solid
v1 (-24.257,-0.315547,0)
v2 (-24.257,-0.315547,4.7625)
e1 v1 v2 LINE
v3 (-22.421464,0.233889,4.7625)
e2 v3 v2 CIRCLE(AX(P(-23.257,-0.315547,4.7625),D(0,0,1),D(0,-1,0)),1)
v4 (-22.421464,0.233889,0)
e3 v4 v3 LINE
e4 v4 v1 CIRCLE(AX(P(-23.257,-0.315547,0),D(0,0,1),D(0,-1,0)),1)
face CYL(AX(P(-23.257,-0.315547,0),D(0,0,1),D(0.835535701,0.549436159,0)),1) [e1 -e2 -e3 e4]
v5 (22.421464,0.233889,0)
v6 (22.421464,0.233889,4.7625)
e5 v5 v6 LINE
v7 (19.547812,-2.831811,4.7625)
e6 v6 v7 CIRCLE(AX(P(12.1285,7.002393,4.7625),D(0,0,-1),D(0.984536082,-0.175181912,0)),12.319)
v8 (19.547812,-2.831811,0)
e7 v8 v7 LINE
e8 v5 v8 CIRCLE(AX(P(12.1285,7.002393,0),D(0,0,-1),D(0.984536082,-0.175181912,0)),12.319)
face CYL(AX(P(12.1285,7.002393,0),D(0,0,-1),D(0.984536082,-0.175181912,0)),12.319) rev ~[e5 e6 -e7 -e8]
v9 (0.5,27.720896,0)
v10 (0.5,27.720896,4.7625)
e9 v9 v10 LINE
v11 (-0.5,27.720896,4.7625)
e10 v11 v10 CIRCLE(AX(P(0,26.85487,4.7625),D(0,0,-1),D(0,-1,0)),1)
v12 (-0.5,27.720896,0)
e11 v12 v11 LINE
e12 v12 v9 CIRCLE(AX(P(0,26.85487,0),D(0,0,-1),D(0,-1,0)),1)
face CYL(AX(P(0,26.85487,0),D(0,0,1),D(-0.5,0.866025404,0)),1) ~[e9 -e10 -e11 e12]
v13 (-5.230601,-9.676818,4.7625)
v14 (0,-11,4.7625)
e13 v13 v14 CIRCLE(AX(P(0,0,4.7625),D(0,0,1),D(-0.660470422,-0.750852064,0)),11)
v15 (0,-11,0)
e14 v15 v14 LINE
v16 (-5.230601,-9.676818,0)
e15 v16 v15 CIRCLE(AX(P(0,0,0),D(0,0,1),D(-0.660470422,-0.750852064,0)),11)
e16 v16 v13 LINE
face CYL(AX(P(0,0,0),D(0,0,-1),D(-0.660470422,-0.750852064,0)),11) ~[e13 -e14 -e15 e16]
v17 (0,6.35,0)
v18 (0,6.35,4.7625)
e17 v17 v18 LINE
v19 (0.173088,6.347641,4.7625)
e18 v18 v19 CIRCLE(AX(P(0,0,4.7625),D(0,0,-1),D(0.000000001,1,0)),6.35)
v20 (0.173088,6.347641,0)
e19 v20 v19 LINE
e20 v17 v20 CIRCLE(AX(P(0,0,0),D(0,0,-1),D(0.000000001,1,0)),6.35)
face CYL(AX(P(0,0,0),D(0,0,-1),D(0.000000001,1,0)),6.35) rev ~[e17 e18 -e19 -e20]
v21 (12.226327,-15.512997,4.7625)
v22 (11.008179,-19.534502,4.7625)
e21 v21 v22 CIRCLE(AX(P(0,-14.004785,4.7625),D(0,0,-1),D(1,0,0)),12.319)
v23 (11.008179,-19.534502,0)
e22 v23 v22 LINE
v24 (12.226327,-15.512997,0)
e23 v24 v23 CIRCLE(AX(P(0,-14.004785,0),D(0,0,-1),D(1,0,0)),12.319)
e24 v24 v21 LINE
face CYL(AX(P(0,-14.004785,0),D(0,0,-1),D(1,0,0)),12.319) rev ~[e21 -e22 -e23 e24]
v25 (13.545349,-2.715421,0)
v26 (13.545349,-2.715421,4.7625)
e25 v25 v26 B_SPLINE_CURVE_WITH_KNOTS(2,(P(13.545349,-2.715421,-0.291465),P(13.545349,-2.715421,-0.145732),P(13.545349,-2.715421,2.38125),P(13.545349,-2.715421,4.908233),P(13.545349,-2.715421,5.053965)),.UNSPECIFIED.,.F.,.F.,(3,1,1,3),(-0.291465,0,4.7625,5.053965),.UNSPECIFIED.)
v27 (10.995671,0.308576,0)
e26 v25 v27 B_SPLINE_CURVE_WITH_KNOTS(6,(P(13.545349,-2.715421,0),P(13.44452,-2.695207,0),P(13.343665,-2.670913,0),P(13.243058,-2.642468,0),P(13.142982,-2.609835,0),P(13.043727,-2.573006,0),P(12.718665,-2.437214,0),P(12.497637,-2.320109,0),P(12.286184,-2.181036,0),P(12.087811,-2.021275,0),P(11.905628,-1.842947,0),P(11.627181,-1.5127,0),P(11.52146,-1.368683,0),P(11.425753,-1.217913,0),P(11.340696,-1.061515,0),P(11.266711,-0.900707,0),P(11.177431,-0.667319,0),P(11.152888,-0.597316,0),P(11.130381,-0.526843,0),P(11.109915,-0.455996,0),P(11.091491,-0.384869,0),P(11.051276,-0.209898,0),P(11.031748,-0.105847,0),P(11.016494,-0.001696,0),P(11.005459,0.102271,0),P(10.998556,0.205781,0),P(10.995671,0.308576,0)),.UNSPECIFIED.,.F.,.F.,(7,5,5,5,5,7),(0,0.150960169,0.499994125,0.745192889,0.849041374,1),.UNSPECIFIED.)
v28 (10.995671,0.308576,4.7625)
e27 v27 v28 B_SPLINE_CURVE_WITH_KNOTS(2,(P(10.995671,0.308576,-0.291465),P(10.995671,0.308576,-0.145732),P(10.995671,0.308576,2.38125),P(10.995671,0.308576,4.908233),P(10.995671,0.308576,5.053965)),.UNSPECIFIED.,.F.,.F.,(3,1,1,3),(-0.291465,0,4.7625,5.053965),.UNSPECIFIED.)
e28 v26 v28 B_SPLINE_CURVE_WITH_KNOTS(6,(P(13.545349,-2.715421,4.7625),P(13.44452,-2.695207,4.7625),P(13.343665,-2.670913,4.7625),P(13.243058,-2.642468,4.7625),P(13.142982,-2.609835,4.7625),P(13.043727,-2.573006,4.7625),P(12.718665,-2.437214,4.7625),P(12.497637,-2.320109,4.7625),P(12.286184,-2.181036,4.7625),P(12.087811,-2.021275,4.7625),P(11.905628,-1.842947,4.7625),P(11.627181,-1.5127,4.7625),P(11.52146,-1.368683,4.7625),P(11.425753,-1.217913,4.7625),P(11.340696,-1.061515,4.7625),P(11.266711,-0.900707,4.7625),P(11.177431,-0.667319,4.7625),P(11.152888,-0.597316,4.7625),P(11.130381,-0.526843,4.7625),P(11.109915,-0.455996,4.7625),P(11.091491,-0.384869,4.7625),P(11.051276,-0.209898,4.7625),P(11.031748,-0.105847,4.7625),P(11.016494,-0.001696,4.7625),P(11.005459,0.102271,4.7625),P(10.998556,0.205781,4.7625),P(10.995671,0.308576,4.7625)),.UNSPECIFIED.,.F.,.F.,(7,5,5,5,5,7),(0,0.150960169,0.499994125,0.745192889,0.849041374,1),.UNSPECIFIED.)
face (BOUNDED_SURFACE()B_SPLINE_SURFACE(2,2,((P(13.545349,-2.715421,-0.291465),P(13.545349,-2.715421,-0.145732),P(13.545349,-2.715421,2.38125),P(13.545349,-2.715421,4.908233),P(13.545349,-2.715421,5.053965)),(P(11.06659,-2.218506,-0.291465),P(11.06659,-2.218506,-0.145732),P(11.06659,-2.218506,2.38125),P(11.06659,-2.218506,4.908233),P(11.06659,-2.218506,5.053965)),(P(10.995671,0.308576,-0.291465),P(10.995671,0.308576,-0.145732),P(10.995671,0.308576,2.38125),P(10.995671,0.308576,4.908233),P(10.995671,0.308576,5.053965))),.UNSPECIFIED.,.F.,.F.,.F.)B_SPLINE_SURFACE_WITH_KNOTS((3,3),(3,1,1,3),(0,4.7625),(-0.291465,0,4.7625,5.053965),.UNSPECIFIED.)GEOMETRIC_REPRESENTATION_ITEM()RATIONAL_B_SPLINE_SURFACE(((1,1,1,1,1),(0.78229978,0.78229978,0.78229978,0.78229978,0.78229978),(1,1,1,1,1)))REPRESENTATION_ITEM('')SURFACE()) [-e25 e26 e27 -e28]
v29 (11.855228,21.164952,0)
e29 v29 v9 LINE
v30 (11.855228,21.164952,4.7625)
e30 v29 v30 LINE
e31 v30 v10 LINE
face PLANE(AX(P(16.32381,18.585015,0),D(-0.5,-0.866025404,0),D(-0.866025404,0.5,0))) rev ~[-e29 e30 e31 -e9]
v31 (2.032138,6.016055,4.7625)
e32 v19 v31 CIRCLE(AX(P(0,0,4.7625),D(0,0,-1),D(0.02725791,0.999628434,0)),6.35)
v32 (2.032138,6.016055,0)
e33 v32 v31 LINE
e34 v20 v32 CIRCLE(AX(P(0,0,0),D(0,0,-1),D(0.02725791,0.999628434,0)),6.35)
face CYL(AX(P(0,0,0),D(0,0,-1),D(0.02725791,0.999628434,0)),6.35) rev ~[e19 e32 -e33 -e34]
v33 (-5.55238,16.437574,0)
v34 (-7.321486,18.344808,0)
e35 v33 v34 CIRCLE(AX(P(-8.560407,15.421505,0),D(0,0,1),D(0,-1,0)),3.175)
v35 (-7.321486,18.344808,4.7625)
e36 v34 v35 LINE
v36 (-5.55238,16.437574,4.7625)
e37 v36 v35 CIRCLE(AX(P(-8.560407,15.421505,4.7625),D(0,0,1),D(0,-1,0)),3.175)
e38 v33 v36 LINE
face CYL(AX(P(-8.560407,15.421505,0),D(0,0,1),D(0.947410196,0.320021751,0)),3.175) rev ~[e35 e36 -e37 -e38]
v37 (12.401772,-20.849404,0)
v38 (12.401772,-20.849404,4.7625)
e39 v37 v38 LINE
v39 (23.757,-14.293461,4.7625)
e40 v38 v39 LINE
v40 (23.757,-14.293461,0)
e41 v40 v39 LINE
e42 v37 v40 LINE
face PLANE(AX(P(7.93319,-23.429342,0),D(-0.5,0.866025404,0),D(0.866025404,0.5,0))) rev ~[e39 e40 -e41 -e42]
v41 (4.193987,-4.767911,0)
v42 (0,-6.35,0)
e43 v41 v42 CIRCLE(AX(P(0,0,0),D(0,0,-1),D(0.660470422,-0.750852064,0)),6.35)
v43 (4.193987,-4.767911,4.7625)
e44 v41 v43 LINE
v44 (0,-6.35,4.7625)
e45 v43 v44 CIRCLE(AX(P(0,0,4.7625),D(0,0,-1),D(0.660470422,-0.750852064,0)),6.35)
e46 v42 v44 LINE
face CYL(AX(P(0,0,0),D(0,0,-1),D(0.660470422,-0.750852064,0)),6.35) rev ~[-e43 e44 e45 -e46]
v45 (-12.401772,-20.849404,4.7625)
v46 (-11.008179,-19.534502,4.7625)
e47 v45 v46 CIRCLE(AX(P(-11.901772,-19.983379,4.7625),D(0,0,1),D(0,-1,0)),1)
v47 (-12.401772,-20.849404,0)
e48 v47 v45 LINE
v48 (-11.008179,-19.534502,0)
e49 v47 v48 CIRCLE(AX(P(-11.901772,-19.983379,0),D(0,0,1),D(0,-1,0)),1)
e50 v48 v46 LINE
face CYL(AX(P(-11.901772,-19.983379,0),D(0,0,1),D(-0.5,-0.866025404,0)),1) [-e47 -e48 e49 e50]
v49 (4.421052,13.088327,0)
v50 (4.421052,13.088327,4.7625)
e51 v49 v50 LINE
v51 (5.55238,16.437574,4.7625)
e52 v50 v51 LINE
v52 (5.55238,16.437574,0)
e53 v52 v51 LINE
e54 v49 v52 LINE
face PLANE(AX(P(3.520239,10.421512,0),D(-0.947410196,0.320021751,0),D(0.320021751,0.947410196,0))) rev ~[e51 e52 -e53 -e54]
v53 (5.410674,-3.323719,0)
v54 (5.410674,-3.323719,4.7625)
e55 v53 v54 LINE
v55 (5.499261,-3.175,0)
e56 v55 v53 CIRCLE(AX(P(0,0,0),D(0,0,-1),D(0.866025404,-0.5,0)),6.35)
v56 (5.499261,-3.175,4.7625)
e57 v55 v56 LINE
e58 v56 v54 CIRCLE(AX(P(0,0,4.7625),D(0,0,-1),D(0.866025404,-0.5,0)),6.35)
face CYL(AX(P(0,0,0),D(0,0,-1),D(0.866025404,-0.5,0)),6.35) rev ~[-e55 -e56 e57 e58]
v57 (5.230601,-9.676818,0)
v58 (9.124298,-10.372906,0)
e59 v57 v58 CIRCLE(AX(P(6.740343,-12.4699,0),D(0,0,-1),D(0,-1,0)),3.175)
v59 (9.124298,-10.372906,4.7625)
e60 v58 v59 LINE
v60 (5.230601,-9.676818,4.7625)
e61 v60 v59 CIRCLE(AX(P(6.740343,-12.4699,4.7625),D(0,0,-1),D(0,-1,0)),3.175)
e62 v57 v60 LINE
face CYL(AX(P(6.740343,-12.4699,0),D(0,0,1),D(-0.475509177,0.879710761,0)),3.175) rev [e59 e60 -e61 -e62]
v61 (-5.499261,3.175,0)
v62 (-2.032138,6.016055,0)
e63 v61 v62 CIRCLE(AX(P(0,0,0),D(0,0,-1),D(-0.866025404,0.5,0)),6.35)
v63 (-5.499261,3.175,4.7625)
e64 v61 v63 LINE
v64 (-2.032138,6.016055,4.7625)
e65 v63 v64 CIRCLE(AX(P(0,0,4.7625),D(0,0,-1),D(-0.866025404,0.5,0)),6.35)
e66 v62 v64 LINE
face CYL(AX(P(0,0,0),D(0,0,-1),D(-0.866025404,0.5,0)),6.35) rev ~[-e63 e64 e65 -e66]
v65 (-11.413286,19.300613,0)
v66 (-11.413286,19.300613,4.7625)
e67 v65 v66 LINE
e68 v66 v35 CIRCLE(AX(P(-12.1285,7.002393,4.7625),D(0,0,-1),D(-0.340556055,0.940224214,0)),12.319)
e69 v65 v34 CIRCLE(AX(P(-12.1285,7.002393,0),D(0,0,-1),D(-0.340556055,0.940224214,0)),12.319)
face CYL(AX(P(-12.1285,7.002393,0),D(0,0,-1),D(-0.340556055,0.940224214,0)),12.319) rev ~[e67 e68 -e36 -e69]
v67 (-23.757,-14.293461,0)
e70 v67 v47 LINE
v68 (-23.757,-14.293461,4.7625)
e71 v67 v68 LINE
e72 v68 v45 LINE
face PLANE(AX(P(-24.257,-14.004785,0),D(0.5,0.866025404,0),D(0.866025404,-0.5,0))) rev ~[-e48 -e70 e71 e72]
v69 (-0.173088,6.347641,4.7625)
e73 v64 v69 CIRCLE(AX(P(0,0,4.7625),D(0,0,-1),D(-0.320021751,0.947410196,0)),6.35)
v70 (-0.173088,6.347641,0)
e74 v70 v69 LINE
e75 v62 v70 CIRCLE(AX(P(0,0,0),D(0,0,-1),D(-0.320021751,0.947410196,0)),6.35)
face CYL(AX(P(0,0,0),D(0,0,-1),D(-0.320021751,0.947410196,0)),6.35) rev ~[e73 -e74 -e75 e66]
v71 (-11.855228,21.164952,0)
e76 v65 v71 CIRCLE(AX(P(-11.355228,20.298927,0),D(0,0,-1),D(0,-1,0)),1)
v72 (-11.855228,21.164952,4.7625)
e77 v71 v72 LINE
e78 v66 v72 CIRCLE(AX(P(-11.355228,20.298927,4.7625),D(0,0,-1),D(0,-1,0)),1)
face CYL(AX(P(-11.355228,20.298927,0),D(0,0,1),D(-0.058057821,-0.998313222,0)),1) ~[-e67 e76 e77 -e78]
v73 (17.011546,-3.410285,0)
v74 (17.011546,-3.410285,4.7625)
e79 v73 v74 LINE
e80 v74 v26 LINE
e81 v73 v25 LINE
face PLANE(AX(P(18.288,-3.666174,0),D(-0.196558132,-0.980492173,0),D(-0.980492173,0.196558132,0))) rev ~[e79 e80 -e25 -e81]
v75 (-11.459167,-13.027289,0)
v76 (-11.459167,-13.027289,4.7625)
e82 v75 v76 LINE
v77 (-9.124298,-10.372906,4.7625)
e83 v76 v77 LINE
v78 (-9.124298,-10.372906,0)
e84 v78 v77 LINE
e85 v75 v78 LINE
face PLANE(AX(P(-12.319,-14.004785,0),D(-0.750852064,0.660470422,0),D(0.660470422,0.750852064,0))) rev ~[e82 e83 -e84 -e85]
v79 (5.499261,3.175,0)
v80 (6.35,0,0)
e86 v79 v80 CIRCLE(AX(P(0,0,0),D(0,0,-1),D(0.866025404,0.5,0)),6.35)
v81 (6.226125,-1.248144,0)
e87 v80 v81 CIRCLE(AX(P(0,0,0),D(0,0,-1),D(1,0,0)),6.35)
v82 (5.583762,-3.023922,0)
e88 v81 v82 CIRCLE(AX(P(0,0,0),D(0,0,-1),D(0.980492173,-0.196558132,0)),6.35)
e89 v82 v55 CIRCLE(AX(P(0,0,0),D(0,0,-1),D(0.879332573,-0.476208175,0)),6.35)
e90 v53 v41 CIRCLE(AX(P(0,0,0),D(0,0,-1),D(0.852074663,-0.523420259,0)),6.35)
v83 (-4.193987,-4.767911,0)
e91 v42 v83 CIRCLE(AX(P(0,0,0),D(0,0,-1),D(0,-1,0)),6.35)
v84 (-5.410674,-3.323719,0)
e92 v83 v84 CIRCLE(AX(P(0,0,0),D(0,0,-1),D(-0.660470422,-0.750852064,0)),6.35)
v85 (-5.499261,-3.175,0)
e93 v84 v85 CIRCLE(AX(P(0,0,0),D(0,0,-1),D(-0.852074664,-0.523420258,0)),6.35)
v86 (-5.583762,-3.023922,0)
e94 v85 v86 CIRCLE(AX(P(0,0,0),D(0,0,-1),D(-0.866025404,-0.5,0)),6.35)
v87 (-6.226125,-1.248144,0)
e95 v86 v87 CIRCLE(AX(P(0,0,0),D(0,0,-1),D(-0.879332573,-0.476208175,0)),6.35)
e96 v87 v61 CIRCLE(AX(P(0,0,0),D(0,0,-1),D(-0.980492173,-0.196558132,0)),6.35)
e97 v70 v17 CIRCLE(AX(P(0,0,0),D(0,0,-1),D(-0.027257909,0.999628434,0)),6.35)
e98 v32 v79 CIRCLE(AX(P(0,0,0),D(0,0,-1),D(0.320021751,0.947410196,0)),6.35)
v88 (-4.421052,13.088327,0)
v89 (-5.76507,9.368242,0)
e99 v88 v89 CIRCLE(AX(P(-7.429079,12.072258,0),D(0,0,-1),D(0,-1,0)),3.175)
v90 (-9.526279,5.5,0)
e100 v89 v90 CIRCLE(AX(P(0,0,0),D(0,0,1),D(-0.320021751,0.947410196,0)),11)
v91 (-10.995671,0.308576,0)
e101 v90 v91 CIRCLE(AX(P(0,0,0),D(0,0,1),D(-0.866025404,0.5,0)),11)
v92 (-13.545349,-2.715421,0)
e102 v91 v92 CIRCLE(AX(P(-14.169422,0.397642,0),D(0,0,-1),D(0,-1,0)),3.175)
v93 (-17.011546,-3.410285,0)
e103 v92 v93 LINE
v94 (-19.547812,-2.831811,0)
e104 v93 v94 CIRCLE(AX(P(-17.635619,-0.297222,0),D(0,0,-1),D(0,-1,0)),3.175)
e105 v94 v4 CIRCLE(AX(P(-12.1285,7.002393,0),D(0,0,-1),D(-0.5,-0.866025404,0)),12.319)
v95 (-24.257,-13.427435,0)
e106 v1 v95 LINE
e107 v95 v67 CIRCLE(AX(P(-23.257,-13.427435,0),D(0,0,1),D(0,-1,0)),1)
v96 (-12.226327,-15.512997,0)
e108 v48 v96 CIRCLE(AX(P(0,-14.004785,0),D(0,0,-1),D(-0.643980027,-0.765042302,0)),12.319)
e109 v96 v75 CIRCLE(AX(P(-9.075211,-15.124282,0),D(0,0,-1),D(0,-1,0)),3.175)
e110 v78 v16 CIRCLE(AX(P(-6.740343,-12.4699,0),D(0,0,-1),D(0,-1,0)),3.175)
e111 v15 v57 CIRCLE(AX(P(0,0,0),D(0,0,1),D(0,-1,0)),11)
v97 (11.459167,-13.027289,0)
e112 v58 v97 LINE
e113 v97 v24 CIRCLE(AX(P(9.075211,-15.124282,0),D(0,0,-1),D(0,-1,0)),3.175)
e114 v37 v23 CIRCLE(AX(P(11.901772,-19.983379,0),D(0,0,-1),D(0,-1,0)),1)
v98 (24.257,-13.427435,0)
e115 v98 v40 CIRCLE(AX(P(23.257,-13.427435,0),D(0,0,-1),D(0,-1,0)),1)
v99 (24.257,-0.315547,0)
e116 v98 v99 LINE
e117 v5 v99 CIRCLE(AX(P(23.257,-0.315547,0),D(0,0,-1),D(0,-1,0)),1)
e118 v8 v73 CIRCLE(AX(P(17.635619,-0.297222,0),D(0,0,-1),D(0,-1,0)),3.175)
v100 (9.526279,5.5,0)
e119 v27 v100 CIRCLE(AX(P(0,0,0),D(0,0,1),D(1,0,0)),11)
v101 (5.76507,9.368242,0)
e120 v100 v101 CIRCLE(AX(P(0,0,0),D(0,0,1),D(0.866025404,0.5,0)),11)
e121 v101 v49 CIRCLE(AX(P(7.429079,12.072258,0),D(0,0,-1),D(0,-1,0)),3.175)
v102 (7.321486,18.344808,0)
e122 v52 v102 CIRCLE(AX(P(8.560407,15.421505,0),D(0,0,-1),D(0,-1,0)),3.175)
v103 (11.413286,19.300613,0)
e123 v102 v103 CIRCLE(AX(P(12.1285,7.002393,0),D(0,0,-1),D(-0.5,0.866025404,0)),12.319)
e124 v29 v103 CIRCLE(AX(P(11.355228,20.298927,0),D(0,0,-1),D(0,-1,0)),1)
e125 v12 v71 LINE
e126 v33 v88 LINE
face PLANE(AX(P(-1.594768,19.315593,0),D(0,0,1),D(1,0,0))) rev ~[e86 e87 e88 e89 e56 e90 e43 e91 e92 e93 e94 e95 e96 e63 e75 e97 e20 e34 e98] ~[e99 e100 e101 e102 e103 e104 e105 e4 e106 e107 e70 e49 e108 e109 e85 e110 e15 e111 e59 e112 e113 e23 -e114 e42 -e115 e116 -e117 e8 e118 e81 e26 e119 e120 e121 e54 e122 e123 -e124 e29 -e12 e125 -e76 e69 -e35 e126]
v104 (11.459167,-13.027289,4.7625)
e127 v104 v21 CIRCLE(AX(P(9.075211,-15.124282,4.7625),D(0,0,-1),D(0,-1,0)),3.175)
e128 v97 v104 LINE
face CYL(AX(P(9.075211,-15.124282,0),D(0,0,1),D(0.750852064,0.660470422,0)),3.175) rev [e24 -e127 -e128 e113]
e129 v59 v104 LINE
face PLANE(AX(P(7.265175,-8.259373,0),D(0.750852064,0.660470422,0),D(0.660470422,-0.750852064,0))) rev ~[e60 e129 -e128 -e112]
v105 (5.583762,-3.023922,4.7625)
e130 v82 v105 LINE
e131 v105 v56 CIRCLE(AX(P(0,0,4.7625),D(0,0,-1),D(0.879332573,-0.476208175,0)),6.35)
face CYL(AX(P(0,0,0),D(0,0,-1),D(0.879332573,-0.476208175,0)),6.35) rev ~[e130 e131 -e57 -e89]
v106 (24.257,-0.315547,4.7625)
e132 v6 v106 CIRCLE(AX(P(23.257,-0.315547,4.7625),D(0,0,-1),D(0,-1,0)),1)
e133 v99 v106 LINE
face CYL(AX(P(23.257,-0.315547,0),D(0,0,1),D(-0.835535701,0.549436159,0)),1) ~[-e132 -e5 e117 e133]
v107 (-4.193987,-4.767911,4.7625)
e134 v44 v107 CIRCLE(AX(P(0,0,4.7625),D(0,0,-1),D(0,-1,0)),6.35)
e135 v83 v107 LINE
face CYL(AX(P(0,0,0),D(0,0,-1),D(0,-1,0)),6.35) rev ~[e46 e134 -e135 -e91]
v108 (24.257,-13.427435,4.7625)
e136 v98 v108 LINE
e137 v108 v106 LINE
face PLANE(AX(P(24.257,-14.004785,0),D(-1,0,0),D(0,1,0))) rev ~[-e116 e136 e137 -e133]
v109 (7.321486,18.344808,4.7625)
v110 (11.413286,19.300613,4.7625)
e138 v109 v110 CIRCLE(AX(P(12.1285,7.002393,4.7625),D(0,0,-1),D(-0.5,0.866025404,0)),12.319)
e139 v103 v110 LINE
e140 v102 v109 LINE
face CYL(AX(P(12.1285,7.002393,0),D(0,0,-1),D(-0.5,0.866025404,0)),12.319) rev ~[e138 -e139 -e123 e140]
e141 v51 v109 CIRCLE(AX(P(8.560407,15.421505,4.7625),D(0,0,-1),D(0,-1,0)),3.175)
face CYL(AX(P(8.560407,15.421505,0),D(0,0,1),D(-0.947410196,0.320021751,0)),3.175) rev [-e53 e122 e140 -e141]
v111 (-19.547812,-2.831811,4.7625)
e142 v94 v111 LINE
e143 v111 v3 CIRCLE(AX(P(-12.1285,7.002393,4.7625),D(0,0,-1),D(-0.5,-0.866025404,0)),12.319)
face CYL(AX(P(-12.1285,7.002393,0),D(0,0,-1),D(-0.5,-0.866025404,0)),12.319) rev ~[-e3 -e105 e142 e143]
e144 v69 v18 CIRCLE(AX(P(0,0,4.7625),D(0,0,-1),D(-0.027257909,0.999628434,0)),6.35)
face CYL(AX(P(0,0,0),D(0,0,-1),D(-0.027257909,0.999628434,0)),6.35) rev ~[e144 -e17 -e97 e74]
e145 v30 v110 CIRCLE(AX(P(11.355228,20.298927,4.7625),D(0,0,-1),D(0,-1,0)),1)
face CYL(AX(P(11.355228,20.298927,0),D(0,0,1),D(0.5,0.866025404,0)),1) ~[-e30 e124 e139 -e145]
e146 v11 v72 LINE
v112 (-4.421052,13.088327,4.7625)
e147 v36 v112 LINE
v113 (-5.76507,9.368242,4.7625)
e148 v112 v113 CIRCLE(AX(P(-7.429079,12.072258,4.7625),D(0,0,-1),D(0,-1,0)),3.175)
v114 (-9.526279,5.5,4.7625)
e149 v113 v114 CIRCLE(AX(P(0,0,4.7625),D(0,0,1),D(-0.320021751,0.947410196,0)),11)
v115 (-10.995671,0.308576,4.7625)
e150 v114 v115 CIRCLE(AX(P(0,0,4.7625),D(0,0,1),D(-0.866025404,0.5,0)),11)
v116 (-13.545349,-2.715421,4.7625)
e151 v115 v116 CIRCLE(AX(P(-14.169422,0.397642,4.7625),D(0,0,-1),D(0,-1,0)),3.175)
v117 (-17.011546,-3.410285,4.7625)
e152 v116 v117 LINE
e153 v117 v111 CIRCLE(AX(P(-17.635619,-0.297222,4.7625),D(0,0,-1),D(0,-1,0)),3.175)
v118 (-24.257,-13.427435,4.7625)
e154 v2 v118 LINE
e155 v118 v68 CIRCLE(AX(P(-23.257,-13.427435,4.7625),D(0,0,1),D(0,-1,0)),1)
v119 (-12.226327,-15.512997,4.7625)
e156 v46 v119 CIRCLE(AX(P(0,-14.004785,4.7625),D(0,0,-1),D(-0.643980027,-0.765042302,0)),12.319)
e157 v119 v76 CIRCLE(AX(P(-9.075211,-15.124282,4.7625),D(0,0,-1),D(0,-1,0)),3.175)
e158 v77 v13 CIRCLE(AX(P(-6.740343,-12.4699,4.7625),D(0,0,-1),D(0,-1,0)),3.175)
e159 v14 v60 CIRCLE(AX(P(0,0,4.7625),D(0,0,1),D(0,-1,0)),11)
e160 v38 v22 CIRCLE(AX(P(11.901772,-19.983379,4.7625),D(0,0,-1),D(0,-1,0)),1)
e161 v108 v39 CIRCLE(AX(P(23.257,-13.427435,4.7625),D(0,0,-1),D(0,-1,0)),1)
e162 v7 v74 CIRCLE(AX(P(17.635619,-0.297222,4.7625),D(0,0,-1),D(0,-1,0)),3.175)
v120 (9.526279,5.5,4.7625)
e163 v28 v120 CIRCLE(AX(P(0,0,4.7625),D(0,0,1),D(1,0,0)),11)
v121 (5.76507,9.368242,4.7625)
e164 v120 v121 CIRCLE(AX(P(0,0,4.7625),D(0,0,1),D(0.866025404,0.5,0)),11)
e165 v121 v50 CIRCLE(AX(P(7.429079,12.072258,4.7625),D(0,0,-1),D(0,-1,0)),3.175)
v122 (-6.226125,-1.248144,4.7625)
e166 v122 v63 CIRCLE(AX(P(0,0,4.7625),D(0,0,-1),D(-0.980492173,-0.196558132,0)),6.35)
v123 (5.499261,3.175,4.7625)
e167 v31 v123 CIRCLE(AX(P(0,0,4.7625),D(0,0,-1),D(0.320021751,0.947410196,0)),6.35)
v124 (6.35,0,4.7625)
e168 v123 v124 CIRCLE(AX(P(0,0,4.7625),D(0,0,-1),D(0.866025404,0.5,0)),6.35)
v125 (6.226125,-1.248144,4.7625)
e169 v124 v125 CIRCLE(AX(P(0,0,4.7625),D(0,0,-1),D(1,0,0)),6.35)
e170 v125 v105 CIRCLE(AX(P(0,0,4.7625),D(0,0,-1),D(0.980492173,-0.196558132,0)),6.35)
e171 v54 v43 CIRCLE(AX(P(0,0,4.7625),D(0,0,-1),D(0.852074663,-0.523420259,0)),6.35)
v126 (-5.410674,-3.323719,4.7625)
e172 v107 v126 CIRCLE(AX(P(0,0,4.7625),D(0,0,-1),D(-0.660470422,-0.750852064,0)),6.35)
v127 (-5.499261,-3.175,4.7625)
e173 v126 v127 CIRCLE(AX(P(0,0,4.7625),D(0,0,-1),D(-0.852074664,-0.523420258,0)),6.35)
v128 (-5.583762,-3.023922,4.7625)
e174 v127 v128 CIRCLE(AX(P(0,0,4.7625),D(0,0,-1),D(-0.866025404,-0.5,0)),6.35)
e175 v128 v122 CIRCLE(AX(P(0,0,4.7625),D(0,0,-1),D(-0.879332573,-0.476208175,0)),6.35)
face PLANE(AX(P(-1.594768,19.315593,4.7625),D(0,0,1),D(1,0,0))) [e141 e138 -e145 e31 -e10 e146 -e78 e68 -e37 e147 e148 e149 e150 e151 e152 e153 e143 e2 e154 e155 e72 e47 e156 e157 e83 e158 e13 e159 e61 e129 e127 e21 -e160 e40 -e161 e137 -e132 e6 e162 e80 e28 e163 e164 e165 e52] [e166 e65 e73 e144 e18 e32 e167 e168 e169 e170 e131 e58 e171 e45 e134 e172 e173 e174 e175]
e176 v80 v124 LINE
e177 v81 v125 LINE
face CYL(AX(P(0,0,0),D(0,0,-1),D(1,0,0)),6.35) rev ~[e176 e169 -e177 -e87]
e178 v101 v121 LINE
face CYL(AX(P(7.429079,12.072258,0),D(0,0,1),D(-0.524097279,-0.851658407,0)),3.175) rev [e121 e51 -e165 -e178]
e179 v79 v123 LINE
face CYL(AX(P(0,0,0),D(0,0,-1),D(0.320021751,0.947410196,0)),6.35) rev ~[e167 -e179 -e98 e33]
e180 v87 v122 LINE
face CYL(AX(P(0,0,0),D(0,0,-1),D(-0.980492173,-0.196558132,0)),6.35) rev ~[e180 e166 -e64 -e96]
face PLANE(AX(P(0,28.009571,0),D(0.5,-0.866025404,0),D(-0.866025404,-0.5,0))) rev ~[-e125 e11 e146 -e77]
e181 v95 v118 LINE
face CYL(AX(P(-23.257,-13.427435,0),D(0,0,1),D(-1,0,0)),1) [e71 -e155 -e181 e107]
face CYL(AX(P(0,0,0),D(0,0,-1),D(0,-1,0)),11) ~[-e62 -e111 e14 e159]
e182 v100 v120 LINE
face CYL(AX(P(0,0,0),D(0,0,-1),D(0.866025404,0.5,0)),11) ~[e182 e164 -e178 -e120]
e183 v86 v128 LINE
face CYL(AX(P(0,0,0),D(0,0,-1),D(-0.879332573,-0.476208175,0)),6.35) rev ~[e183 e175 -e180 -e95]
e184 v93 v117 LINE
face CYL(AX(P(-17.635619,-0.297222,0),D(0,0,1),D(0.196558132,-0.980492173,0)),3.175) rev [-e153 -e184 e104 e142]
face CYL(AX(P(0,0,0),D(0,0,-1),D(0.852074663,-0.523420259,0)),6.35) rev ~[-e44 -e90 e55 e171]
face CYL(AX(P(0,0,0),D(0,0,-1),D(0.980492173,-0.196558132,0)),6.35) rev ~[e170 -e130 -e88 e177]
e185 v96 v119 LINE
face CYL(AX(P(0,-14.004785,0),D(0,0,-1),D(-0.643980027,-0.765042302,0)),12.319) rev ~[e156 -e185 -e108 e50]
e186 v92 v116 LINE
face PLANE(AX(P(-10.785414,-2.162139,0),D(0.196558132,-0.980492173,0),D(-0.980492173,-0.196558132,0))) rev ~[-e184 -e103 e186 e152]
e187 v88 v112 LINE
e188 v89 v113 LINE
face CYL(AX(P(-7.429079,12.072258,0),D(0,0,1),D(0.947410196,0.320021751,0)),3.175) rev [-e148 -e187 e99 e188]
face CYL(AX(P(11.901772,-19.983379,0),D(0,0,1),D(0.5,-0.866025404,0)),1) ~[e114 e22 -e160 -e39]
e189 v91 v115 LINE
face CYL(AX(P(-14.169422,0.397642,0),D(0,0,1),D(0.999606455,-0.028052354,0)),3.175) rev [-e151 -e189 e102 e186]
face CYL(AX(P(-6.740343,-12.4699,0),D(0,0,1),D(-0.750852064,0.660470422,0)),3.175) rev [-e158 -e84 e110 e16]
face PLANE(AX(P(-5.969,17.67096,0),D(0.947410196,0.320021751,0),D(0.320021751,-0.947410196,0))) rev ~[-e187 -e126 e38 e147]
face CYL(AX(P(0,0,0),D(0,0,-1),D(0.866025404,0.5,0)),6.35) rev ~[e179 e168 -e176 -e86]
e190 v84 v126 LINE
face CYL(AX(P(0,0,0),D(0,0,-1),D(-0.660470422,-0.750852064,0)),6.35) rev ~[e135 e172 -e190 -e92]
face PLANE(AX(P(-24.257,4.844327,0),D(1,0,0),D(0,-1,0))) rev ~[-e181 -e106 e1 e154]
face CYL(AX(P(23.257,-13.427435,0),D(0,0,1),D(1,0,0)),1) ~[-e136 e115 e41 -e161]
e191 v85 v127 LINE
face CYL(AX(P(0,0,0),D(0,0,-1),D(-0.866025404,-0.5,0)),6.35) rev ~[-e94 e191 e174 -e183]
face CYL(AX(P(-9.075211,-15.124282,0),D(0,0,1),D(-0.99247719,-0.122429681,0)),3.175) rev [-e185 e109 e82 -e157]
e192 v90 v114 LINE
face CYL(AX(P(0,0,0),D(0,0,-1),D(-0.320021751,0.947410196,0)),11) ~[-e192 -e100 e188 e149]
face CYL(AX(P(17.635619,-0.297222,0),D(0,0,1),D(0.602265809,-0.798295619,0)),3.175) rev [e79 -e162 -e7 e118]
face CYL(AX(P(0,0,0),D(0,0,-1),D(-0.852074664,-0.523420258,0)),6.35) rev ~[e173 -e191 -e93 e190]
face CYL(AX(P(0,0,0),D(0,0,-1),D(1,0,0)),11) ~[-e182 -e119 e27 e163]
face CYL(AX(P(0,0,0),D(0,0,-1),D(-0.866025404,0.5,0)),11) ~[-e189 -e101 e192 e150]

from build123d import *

# Parameters (mm, degrees)
F1_DEPTH = 4.7625
F2_R     = 3.175
F3_R     = 1


with BuildPart() as f1:
    # F0 (on Top) → F1 (new body)
    with BuildSketch(Plane.XY):
        with BuildLine():
            ThreePointArc((-0.4726846942, 10.989839361), (-0.236396943, 10.9974595469), (0, 11))
            Line((0, 11), (0, 28.0095709595))
            Line((0, 28.0095709595), (-5.969, 17.6709596891))
            ThreePointArc((-5.969, 17.6709596891), (-2.6150512525, 14.8287618807), (-0.4726846942, 10.989839361))
        make_face()
        with BuildLine():
            ThreePointArc((0, 11), (0.236396943, 10.9974595469), (0.4726846942, 10.989839361))
            ThreePointArc((0.4726846942, 10.989839361), (2.6150512525, 14.8287618807), (5.969, 17.6709596891))
            Line((5.969, 17.6709596891), (0, 28.0095709595))
            Line((0, 28.0095709595), (0, 11))
        make_face()
        with BuildLine():
            Line((-18.288, -3.6661742094), (-24.257, -14.0047854797))
            Line((-24.257, -14.0047854797), (-9.5262794416, -5.5))
            ThreePointArc((-9.5262794416, -5.5), (-9.6422778162, -5.2940040154), (-9.7538224172, -5.0855627274))
            ThreePointArc((-9.7538224172, -5.0855627274), (-14.1496101216, -5.1496801235), (-18.288, -3.6661742094))
        make_face()
        with BuildLine():
            Line((-9.5262794416, -5.5), (-24.257, -14.0047854797))
            Line((-24.257, -14.0047854797), (-12.319, -14.0047854797))
            ThreePointArc((-12.319, -14.0047854797), (-11.5345588691, -9.6790817572), (-9.281137723, -5.9042766336))
            ThreePointArc((-9.281137723, -5.9042766336), (-9.4058808732, -5.7034555315), (-9.5262794416, -5.5))
        make_face()
        with BuildLine():
            Line((24.257, -14.0047854797), (9.5262794416, -5.5))
            ThreePointArc((9.5262794416, -5.5), (9.4058808732, -5.7034555315), (9.281137723, -5.9042766336))
            ThreePointArc((9.281137723, -5.9042766336), (11.5345588691, -9.6790817572), (12.319, -14.0047854797))
            Line((12.319, -14.0047854797), (24.257, -14.0047854797))
        make_face()
        with BuildLine():
            ThreePointArc((18.288, -3.6661742094), (14.1496101216, -5.1496801235), (9.7538224172, -5.0855627274))
            ThreePointArc((9.7538224172, -5.0855627274), (9.6422778162, -5.2940040154), (9.5262794416, -5.5))
            Line((9.5262794416, -5.5), (24.257, -14.0047854797))
            Line((24.257, -14.0047854797), (18.288, -3.6661742094))
        make_face()
        with BuildLine():
            ThreePointArc((-6.2261252968, -1.2481441375), (-6.2659575333, 1.0296971356), (-5.499261314, 3.175))
            Line((-5.499261314, 3.175), (-9.5262794416, 5.5))
            ThreePointArc((-9.5262794416, 5.5), (-10.8544146246, 1.7837273215), (-10.7854139, -2.1621394509))
            Line((-10.7854139, -2.1621394509), (-6.2261252968, -1.2481441375))
        make_face()
        with BuildLine():
            ThreePointArc((-2.0321381177, 6.016054743), (-1.115007867, 6.2513404528), (-0.1730877259, 6.3476405569))
            ThreePointArc((-0.1730877259, 6.3476405569), (-0.1672424774, 7.7590154524), (0, 9.1604587143))
            ThreePointArc((0, 9.1604587143), (-0.2012173242, 10.0842248201), (-0.4726846942, 10.989839361))
            ThreePointArc((-0.4726846942, 10.989839361), (-2.0165835906, 10.8135743685), (-3.520239259, 10.4215121532))
            Line((-3.520239259, 10.4215121532), (-2.0321381177, 6.016054743))
        make_face()
        with BuildLine():
            ThreePointArc((0.1730877259, 6.3476405569), (1.115007867, 6.2513404528), (2.0321381177, 6.016054743))
            Line((2.0321381177, 6.016054743), (3.520239259, 10.4215121532))
            ThreePointArc((3.520239259, 10.4215121532), (2.0165835906, 10.8135743685), (0.4726846942, 10.989839361))
            ThreePointArc((0.4726846942, 10.989839361), (0.2012173242, 10.0842248201), (0, 9.1604587143))
            ThreePointArc((0, 9.1604587143), (0.1427825837, 8.0856215938), (0.1905, 7.0023927399))
            ThreePointArc((0.1905, 7.0023927399), (0.1861461621, 6.6749009047), (0.1730877259, 6.3476405569))
        make_face()
        with BuildLine():
            ThreePointArc((5.499261314, 3.175), (6.1336289969, 1.6435009364), (6.35, 0))
            ThreePointArc((6.35, 0), (6.3189554372, -0.6271380889), (6.2261252968, -1.2481441375))
            Line((6.2261252968, -1.2481441375), (10.7854139, -2.1621394509))
            ThreePointArc((10.7854139, -2.1621394509), (10.9462220172, -1.0863809414), (11, 0))
            ThreePointArc((11, 0), (10.6251840892, 2.8470094961), (9.5262794416, 5.5))
            Line((9.5262794416, 5.5), (5.499261314, 3.175))
        make_face()
        with BuildLine():
            ThreePointArc((4.1939871791, -4.7679106054), (2.241234889, -5.9413269707), (0, -6.35))
            Line((0, -6.35), (0, -11))
            ThreePointArc((0, -11), (3.8824541385, -10.2920624689), (7.265174641, -8.2593727023))
            Line((7.265174641, -8.2593727023), (4.1939871791, -4.7679106054))
        make_face()
        with BuildLine():
            ThreePointArc((-4.1939871791, -4.7679106054), (-4.8563157063, -4.0912953646), (-5.4106741134, -3.3237186462))
            ThreePointArc((-5.4106741134, -3.3237186462), (-6.6358832514, -4.0243439602), (-7.9331899569, -4.5802293571))
            ThreePointArc((-7.9331899569, -4.5802293571), (-8.6325862096, -5.2163717244), (-9.281137723, -5.9042766336))
            ThreePointArc((-9.281137723, -5.9042766336), (-8.3565383135, -7.1531998025), (-7.265174641, -8.2593727023))
            Line((-7.265174641, -8.2593727023), (-4.1939871791, -4.7679106054))
        make_face()
        with BuildLine():
            Line((-9.5262794416, -5.5), (-7.9331899569, -4.5802293571))
            ThreePointArc((-7.9331899569, -4.5802293571), (-8.8338035337, -4.8678530956), (-9.7538224172, -5.0855627274))
            ThreePointArc((-9.7538224172, -5.0855627274), (-9.6422778162, -5.2940040154), (-9.5262794416, -5.5))
        make_face()
        with BuildLine():
            ThreePointArc((-9.281137723, -5.9042766336), (-8.6325862096, -5.2163717244), (-7.9331899569, -4.5802293571))
            Line((-7.9331899569, -4.5802293571), (-9.5262794416, -5.5))
            ThreePointArc((-9.5262794416, -5.5), (-9.4058808732, -5.7034555315), (-9.281137723, -5.9042766336))
        make_face()
        with BuildLine():
            Line((-7.9331899569, -4.5802293571), (-5.499261314, -3.175))
            ThreePointArc((-5.499261314, -3.175), (-5.5420264075, -3.0997489089), (-5.5837618393, -3.0239219107))
            ThreePointArc((-5.5837618393, -3.0239219107), (-6.8031257288, -3.7346714922), (-7.9331899569, -4.5802293571))
        make_face()
        with BuildLine():
            ThreePointArc((-5.4106741134, -3.3237186462), (-5.4554745042, -3.2496612029), (-5.499261314, -3.175))
            Line((-5.499261314, -3.175), (-7.9331899569, -4.5802293571))
            ThreePointArc((-7.9331899569, -4.5802293571), (-6.6358832514, -4.0243439602), (-5.4106741134, -3.3237186462))
        make_face()
        with BuildLine():
            ThreePointArc((-0.4726846942, 10.989839361), (-0.2012173242, 10.0842248201), (0, 9.1604587143))
            Line((0, 9.1604587143), (0, 11))
            ThreePointArc((0, 11), (-0.236396943, 10.9974595469), (-0.4726846942, 10.989839361))
        make_face()
        with BuildLine():
            ThreePointArc((0, 9.1604587143), (0.2012173242, 10.0842248201), (0.4726846942, 10.989839361))
            ThreePointArc((0.4726846942, 10.989839361), (0.236396943, 10.9974595469), (0, 11))
            Line((0, 11), (0, 9.1604587143))
        make_face()
        with BuildLine():
            ThreePointArc((-0.1730877259, 6.3476405569), (-0.0865519033, 6.3494101118), (0, 6.35))
            Line((0, 6.35), (0, 9.1604587143))
            ThreePointArc((0, 9.1604587143), (-0.1672424774, 7.7590154524), (-0.1730877259, 6.3476405569))
        make_face()
        with BuildLine():
            ThreePointArc((0, 6.35), (0.0865519033, 6.3494101118), (0.1730877259, 6.3476405569))
            ThreePointArc((0.1730877259, 6.3476405569), (0.1861461621, 6.6749009047), (0.1905, 7.0023927399))
            ThreePointArc((0.1905, 7.0023927399), (0.1427825837, 8.0856215938), (0, 9.1604587143))
            Line((0, 9.1604587143), (0, 6.35))
        make_face()
        with BuildLine():
            ThreePointArc((7.9331899569, -4.5802293571), (6.8031257288, -3.7346714922), (5.5837618393, -3.0239219107))
            ThreePointArc((5.5837618393, -3.0239219107), (5.5420264075, -3.0997489089), (5.499261314, -3.175))
            Line((5.499261314, -3.175), (7.9331899569, -4.5802293571))
        make_face()
        with BuildLine():
            Line((7.9331899569, -4.5802293571), (5.499261314, -3.175))
            ThreePointArc((5.499261314, -3.175), (5.4554745042, -3.2496612029), (5.4106741134, -3.3237186462))
            ThreePointArc((5.4106741134, -3.3237186462), (6.6358832514, -4.0243439602), (7.9331899569, -4.5802293571))
        make_face()
        with BuildLine():
            ThreePointArc((9.7538224172, -5.0855627274), (8.8338035337, -4.8678530956), (7.9331899569, -4.5802293571))
            Line((7.9331899569, -4.5802293571), (9.5262794416, -5.5))
            ThreePointArc((9.5262794416, -5.5), (9.6422778162, -5.2940040154), (9.7538224172, -5.0855627274))
        make_face()
        with BuildLine():
            Line((9.5262794416, -5.5), (7.9331899569, -4.5802293571))
            ThreePointArc((7.9331899569, -4.5802293571), (8.6325862096, -5.2163717244), (9.281137723, -5.9042766336))
            ThreePointArc((9.281137723, -5.9042766336), (9.4058808732, -5.7034555315), (9.5262794416, -5.5))
        make_face()
        with BuildLine():
            ThreePointArc((-9.7538224172, -5.0855627274), (-10.3731219041, -3.6603745659), (-10.7854139, -2.1621394509))
            Line((-10.7854139, -2.1621394509), (-18.288, -3.6661742094))
            ThreePointArc((-18.288, -3.6661742094), (-14.1496101216, -5.1496801235), (-9.7538224172, -5.0855627274))
        make_face()
        with BuildLine():
            ThreePointArc((-7.9331899569, -4.5802293571), (-6.8031257288, -3.7346714922), (-5.5837618393, -3.0239219107))
            ThreePointArc((-5.5837618393, -3.0239219107), (-5.9713235733, -2.1600450882), (-6.2261252968, -1.2481441375))
            Line((-6.2261252968, -1.2481441375), (-10.7854139, -2.1621394509))
            ThreePointArc((-10.7854139, -2.1621394509), (-10.3731219041, -3.6603745659), (-9.7538224172, -5.0855627274))
            ThreePointArc((-9.7538224172, -5.0855627274), (-8.8338035337, -4.8678530956), (-7.9331899569, -4.5802293571))
        make_face()
        with BuildLine():
            Line((-12.319, -14.0047854797), (-7.265174641, -8.2593727023))
            ThreePointArc((-7.265174641, -8.2593727023), (-8.3565383135, -7.1531998025), (-9.281137723, -5.9042766336))
            ThreePointArc((-9.281137723, -5.9042766336), (-11.5345588691, -9.6790817572), (-12.319, -14.0047854797))
        make_face()
        with BuildLine():
            ThreePointArc((12.319, -14.0047854797), (11.5345588691, -9.6790817572), (9.281137723, -5.9042766336))
            ThreePointArc((9.281137723, -5.9042766336), (8.3565383135, -7.1531998025), (7.265174641, -8.2593727023))
            Line((7.265174641, -8.2593727023), (12.319, -14.0047854797))
        make_face()
        with BuildLine():
            ThreePointArc((9.281137723, -5.9042766336), (8.6325862096, -5.2163717244), (7.9331899569, -4.5802293571))
            ThreePointArc((7.9331899569, -4.5802293571), (6.6358832514, -4.0243439602), (5.4106741134, -3.3237186462))
            ThreePointArc((5.4106741134, -3.3237186462), (4.8563157063, -4.0912953646), (4.1939871791, -4.7679106054))
            Line((4.1939871791, -4.7679106054), (7.265174641, -8.2593727023))
            ThreePointArc((7.265174641, -8.2593727023), (8.3565383135, -7.1531998025), (9.281137723, -5.9042766336))
        make_face()
        with BuildLine():
            Line((10.7854139, -2.1621394509), (6.2261252968, -1.2481441375))
            ThreePointArc((6.2261252968, -1.2481441375), (5.9713235733, -2.1600450882), (5.5837618393, -3.0239219107))
            ThreePointArc((5.5837618393, -3.0239219107), (6.8031257288, -3.7346714922), (7.9331899569, -4.5802293571))
            ThreePointArc((7.9331899569, -4.5802293571), (8.8338035337, -4.8678530956), (9.7538224172, -5.0855627274))
            ThreePointArc((9.7538224172, -5.0855627274), (10.3731219041, -3.6603745659), (10.7854139, -2.1621394509))
        make_face()
        with BuildLine():
            Line((18.288, -3.6661742094), (10.7854139, -2.1621394509))
            ThreePointArc((10.7854139, -2.1621394509), (10.3731219041, -3.6603745659), (9.7538224172, -5.0855627274))
            ThreePointArc((9.7538224172, -5.0855627274), (14.1496101216, -5.1496801235), (18.288, -3.6661742094))
        make_face()
        with BuildLine():
            ThreePointArc((2.0321381177, 6.016054743), (4.0247226443, 4.9116298351), (5.499261314, 3.175))
            Line((5.499261314, 3.175), (9.5262794416, 5.5))
            ThreePointArc((9.5262794416, 5.5), (6.9719604861, 8.5083351474), (3.520239259, 10.4215121532))
            Line((3.520239259, 10.4215121532), (2.0321381177, 6.016054743))
        make_face()
        with BuildLine():
            Line((-9.5262794416, 5.5), (-5.499261314, 3.175))
            ThreePointArc((-5.499261314, 3.175), (-4.0247226443, 4.9116298351), (-2.0321381177, 6.016054743))
            Line((-2.0321381177, 6.016054743), (-3.520239259, 10.4215121532))
            ThreePointArc((-3.520239259, 10.4215121532), (-6.9719604861, 8.5083351474), (-9.5262794416, 5.5))
        make_face()
        with BuildLine():
            Line((0, -11), (0, -6.35))
            ThreePointArc((0, -6.35), (-2.241234889, -5.9413269707), (-4.1939871791, -4.7679106054))
            Line((-4.1939871791, -4.7679106054), (-7.265174641, -8.2593727023))
            ThreePointArc((-7.265174641, -8.2593727023), (-3.8824541385, -10.2920624689), (0, -11))
        make_face()
        with BuildLine():
            ThreePointArc((-3.520239259, 10.4215121532), (-2.0165835906, 10.8135743685), (-0.4726846942, 10.989839361))
            ThreePointArc((-0.4726846942, 10.989839361), (-2.6150512525, 14.8287618807), (-5.969, 17.6709596891))
            Line((-5.969, 17.6709596891), (-3.520239259, 10.4215121532))
        make_face()
        with BuildLine():
            ThreePointArc((0.4726846942, 10.989839361), (2.0165835906, 10.8135743685), (3.520239259, 10.4215121532))
            Line((3.520239259, 10.4215121532), (5.969, 17.6709596891))
            ThreePointArc((5.969, 17.6709596891), (2.6150512525, 14.8287618807), (0.4726846942, 10.989839361))
        make_face()
        with BuildLine():
            Line((-24.257, 4.8443267654), (-24.257, -14.0047854797))
            Line((-24.257, -14.0047854797), (-18.288, -3.6661742094))
            ThreePointArc((-18.288, -3.6661742094), (-22.2141280276, -0.0713522576), (-24.257, 4.8443267654))
        make_face()
        with BuildLine():
            Line((-12.319, -14.0047854797), (-24.257, -14.0047854797))
            Line((-24.257, -14.0047854797), (-7.9331899569, -23.4293416023))
            ThreePointArc((-7.9331899569, -23.4293416023), (-11.1688568815, -19.202323066), (-12.319, -14.0047854797))
        make_face()
        with BuildLine():
            Line((7.9331899569, -23.4293416023), (24.257, -14.0047854797))
            Line((24.257, -14.0047854797), (12.319, -14.0047854797))
            ThreePointArc((12.319, -14.0047854797), (11.1688568815, -19.202323066), (7.9331899569, -23.4293416023))
        make_face()
        with BuildLine():
            ThreePointArc((24.257, 4.8443267654), (22.2141280276, -0.0713522576), (18.288, -3.6661742094))
            Line((18.288, -3.6661742094), (24.257, -14.0047854797))
            Line((24.257, -14.0047854797), (24.257, 4.8443267654))
        make_face()
        with BuildLine():
            Line((0, 28.0095709595), (5.969, 17.6709596891))
            ThreePointArc((5.969, 17.6709596891), (11.0452711461, 19.2736753236), (16.3238100431, 18.5850148369))
            Line((16.3238100431, 18.5850148369), (0, 28.0095709595))
        make_face()
        with BuildLine():
            Line((-5.969, 17.6709596891), (0, 28.0095709595))
            Line((0, 28.0095709595), (-16.3238100431, 18.5850148369))
            ThreePointArc((-16.3238100431, 18.5850148369), (-11.0452711461, 19.2736753236), (-5.969, 17.6709596891))
        make_face()
    extrude(amount=F1_DEPTH)

    # F2
    f2_edges = [f1.edges().sort_by_distance(p)[0] for p in [
        (-5.969, 17.67096, 2.38125),
        (5.969, 17.67096, 2.38125),
        (-7.265175, -8.259373, 2.38125),
        (7.265175, -8.259373, 2.38125),
        (-18.288, -3.666174, 2.38125),
        (18.288, -3.666174, 2.38125),
        (3.520239, 10.421512, 2.38125),
        (10.785414, -2.162139, 2.38125),
        (-12.319, -14.004785, 2.38125),
        (12.319, -14.004785, 2.38125),
        (-10.785414, -2.162139, 2.38125),
        (-3.520239, 10.421512, 2.38125),
    ]]
    fillet(f2_edges, radius=F2_R)

    # F3
    f3_edges = [f1.edges().sort_by_distance(p)[0] for p in [
        (-24.257, 4.844327, 2.38125),
        (24.257, 4.844327, 2.38125),
        (16.32381, 18.585015, 2.38125),
        (-16.32381, 18.585015, 2.38125),
        (7.93319, -23.429342, 2.38125),
        (-7.93319, -23.429342, 2.38125),
        (0, 28.009571, 2.38125),
        (24.257, -14.004785, 2.38125),
        (-24.257, -14.004785, 2.38125),
    ]]
    fillet(f3_edges, radius=F3_R)


solid = f1.part
